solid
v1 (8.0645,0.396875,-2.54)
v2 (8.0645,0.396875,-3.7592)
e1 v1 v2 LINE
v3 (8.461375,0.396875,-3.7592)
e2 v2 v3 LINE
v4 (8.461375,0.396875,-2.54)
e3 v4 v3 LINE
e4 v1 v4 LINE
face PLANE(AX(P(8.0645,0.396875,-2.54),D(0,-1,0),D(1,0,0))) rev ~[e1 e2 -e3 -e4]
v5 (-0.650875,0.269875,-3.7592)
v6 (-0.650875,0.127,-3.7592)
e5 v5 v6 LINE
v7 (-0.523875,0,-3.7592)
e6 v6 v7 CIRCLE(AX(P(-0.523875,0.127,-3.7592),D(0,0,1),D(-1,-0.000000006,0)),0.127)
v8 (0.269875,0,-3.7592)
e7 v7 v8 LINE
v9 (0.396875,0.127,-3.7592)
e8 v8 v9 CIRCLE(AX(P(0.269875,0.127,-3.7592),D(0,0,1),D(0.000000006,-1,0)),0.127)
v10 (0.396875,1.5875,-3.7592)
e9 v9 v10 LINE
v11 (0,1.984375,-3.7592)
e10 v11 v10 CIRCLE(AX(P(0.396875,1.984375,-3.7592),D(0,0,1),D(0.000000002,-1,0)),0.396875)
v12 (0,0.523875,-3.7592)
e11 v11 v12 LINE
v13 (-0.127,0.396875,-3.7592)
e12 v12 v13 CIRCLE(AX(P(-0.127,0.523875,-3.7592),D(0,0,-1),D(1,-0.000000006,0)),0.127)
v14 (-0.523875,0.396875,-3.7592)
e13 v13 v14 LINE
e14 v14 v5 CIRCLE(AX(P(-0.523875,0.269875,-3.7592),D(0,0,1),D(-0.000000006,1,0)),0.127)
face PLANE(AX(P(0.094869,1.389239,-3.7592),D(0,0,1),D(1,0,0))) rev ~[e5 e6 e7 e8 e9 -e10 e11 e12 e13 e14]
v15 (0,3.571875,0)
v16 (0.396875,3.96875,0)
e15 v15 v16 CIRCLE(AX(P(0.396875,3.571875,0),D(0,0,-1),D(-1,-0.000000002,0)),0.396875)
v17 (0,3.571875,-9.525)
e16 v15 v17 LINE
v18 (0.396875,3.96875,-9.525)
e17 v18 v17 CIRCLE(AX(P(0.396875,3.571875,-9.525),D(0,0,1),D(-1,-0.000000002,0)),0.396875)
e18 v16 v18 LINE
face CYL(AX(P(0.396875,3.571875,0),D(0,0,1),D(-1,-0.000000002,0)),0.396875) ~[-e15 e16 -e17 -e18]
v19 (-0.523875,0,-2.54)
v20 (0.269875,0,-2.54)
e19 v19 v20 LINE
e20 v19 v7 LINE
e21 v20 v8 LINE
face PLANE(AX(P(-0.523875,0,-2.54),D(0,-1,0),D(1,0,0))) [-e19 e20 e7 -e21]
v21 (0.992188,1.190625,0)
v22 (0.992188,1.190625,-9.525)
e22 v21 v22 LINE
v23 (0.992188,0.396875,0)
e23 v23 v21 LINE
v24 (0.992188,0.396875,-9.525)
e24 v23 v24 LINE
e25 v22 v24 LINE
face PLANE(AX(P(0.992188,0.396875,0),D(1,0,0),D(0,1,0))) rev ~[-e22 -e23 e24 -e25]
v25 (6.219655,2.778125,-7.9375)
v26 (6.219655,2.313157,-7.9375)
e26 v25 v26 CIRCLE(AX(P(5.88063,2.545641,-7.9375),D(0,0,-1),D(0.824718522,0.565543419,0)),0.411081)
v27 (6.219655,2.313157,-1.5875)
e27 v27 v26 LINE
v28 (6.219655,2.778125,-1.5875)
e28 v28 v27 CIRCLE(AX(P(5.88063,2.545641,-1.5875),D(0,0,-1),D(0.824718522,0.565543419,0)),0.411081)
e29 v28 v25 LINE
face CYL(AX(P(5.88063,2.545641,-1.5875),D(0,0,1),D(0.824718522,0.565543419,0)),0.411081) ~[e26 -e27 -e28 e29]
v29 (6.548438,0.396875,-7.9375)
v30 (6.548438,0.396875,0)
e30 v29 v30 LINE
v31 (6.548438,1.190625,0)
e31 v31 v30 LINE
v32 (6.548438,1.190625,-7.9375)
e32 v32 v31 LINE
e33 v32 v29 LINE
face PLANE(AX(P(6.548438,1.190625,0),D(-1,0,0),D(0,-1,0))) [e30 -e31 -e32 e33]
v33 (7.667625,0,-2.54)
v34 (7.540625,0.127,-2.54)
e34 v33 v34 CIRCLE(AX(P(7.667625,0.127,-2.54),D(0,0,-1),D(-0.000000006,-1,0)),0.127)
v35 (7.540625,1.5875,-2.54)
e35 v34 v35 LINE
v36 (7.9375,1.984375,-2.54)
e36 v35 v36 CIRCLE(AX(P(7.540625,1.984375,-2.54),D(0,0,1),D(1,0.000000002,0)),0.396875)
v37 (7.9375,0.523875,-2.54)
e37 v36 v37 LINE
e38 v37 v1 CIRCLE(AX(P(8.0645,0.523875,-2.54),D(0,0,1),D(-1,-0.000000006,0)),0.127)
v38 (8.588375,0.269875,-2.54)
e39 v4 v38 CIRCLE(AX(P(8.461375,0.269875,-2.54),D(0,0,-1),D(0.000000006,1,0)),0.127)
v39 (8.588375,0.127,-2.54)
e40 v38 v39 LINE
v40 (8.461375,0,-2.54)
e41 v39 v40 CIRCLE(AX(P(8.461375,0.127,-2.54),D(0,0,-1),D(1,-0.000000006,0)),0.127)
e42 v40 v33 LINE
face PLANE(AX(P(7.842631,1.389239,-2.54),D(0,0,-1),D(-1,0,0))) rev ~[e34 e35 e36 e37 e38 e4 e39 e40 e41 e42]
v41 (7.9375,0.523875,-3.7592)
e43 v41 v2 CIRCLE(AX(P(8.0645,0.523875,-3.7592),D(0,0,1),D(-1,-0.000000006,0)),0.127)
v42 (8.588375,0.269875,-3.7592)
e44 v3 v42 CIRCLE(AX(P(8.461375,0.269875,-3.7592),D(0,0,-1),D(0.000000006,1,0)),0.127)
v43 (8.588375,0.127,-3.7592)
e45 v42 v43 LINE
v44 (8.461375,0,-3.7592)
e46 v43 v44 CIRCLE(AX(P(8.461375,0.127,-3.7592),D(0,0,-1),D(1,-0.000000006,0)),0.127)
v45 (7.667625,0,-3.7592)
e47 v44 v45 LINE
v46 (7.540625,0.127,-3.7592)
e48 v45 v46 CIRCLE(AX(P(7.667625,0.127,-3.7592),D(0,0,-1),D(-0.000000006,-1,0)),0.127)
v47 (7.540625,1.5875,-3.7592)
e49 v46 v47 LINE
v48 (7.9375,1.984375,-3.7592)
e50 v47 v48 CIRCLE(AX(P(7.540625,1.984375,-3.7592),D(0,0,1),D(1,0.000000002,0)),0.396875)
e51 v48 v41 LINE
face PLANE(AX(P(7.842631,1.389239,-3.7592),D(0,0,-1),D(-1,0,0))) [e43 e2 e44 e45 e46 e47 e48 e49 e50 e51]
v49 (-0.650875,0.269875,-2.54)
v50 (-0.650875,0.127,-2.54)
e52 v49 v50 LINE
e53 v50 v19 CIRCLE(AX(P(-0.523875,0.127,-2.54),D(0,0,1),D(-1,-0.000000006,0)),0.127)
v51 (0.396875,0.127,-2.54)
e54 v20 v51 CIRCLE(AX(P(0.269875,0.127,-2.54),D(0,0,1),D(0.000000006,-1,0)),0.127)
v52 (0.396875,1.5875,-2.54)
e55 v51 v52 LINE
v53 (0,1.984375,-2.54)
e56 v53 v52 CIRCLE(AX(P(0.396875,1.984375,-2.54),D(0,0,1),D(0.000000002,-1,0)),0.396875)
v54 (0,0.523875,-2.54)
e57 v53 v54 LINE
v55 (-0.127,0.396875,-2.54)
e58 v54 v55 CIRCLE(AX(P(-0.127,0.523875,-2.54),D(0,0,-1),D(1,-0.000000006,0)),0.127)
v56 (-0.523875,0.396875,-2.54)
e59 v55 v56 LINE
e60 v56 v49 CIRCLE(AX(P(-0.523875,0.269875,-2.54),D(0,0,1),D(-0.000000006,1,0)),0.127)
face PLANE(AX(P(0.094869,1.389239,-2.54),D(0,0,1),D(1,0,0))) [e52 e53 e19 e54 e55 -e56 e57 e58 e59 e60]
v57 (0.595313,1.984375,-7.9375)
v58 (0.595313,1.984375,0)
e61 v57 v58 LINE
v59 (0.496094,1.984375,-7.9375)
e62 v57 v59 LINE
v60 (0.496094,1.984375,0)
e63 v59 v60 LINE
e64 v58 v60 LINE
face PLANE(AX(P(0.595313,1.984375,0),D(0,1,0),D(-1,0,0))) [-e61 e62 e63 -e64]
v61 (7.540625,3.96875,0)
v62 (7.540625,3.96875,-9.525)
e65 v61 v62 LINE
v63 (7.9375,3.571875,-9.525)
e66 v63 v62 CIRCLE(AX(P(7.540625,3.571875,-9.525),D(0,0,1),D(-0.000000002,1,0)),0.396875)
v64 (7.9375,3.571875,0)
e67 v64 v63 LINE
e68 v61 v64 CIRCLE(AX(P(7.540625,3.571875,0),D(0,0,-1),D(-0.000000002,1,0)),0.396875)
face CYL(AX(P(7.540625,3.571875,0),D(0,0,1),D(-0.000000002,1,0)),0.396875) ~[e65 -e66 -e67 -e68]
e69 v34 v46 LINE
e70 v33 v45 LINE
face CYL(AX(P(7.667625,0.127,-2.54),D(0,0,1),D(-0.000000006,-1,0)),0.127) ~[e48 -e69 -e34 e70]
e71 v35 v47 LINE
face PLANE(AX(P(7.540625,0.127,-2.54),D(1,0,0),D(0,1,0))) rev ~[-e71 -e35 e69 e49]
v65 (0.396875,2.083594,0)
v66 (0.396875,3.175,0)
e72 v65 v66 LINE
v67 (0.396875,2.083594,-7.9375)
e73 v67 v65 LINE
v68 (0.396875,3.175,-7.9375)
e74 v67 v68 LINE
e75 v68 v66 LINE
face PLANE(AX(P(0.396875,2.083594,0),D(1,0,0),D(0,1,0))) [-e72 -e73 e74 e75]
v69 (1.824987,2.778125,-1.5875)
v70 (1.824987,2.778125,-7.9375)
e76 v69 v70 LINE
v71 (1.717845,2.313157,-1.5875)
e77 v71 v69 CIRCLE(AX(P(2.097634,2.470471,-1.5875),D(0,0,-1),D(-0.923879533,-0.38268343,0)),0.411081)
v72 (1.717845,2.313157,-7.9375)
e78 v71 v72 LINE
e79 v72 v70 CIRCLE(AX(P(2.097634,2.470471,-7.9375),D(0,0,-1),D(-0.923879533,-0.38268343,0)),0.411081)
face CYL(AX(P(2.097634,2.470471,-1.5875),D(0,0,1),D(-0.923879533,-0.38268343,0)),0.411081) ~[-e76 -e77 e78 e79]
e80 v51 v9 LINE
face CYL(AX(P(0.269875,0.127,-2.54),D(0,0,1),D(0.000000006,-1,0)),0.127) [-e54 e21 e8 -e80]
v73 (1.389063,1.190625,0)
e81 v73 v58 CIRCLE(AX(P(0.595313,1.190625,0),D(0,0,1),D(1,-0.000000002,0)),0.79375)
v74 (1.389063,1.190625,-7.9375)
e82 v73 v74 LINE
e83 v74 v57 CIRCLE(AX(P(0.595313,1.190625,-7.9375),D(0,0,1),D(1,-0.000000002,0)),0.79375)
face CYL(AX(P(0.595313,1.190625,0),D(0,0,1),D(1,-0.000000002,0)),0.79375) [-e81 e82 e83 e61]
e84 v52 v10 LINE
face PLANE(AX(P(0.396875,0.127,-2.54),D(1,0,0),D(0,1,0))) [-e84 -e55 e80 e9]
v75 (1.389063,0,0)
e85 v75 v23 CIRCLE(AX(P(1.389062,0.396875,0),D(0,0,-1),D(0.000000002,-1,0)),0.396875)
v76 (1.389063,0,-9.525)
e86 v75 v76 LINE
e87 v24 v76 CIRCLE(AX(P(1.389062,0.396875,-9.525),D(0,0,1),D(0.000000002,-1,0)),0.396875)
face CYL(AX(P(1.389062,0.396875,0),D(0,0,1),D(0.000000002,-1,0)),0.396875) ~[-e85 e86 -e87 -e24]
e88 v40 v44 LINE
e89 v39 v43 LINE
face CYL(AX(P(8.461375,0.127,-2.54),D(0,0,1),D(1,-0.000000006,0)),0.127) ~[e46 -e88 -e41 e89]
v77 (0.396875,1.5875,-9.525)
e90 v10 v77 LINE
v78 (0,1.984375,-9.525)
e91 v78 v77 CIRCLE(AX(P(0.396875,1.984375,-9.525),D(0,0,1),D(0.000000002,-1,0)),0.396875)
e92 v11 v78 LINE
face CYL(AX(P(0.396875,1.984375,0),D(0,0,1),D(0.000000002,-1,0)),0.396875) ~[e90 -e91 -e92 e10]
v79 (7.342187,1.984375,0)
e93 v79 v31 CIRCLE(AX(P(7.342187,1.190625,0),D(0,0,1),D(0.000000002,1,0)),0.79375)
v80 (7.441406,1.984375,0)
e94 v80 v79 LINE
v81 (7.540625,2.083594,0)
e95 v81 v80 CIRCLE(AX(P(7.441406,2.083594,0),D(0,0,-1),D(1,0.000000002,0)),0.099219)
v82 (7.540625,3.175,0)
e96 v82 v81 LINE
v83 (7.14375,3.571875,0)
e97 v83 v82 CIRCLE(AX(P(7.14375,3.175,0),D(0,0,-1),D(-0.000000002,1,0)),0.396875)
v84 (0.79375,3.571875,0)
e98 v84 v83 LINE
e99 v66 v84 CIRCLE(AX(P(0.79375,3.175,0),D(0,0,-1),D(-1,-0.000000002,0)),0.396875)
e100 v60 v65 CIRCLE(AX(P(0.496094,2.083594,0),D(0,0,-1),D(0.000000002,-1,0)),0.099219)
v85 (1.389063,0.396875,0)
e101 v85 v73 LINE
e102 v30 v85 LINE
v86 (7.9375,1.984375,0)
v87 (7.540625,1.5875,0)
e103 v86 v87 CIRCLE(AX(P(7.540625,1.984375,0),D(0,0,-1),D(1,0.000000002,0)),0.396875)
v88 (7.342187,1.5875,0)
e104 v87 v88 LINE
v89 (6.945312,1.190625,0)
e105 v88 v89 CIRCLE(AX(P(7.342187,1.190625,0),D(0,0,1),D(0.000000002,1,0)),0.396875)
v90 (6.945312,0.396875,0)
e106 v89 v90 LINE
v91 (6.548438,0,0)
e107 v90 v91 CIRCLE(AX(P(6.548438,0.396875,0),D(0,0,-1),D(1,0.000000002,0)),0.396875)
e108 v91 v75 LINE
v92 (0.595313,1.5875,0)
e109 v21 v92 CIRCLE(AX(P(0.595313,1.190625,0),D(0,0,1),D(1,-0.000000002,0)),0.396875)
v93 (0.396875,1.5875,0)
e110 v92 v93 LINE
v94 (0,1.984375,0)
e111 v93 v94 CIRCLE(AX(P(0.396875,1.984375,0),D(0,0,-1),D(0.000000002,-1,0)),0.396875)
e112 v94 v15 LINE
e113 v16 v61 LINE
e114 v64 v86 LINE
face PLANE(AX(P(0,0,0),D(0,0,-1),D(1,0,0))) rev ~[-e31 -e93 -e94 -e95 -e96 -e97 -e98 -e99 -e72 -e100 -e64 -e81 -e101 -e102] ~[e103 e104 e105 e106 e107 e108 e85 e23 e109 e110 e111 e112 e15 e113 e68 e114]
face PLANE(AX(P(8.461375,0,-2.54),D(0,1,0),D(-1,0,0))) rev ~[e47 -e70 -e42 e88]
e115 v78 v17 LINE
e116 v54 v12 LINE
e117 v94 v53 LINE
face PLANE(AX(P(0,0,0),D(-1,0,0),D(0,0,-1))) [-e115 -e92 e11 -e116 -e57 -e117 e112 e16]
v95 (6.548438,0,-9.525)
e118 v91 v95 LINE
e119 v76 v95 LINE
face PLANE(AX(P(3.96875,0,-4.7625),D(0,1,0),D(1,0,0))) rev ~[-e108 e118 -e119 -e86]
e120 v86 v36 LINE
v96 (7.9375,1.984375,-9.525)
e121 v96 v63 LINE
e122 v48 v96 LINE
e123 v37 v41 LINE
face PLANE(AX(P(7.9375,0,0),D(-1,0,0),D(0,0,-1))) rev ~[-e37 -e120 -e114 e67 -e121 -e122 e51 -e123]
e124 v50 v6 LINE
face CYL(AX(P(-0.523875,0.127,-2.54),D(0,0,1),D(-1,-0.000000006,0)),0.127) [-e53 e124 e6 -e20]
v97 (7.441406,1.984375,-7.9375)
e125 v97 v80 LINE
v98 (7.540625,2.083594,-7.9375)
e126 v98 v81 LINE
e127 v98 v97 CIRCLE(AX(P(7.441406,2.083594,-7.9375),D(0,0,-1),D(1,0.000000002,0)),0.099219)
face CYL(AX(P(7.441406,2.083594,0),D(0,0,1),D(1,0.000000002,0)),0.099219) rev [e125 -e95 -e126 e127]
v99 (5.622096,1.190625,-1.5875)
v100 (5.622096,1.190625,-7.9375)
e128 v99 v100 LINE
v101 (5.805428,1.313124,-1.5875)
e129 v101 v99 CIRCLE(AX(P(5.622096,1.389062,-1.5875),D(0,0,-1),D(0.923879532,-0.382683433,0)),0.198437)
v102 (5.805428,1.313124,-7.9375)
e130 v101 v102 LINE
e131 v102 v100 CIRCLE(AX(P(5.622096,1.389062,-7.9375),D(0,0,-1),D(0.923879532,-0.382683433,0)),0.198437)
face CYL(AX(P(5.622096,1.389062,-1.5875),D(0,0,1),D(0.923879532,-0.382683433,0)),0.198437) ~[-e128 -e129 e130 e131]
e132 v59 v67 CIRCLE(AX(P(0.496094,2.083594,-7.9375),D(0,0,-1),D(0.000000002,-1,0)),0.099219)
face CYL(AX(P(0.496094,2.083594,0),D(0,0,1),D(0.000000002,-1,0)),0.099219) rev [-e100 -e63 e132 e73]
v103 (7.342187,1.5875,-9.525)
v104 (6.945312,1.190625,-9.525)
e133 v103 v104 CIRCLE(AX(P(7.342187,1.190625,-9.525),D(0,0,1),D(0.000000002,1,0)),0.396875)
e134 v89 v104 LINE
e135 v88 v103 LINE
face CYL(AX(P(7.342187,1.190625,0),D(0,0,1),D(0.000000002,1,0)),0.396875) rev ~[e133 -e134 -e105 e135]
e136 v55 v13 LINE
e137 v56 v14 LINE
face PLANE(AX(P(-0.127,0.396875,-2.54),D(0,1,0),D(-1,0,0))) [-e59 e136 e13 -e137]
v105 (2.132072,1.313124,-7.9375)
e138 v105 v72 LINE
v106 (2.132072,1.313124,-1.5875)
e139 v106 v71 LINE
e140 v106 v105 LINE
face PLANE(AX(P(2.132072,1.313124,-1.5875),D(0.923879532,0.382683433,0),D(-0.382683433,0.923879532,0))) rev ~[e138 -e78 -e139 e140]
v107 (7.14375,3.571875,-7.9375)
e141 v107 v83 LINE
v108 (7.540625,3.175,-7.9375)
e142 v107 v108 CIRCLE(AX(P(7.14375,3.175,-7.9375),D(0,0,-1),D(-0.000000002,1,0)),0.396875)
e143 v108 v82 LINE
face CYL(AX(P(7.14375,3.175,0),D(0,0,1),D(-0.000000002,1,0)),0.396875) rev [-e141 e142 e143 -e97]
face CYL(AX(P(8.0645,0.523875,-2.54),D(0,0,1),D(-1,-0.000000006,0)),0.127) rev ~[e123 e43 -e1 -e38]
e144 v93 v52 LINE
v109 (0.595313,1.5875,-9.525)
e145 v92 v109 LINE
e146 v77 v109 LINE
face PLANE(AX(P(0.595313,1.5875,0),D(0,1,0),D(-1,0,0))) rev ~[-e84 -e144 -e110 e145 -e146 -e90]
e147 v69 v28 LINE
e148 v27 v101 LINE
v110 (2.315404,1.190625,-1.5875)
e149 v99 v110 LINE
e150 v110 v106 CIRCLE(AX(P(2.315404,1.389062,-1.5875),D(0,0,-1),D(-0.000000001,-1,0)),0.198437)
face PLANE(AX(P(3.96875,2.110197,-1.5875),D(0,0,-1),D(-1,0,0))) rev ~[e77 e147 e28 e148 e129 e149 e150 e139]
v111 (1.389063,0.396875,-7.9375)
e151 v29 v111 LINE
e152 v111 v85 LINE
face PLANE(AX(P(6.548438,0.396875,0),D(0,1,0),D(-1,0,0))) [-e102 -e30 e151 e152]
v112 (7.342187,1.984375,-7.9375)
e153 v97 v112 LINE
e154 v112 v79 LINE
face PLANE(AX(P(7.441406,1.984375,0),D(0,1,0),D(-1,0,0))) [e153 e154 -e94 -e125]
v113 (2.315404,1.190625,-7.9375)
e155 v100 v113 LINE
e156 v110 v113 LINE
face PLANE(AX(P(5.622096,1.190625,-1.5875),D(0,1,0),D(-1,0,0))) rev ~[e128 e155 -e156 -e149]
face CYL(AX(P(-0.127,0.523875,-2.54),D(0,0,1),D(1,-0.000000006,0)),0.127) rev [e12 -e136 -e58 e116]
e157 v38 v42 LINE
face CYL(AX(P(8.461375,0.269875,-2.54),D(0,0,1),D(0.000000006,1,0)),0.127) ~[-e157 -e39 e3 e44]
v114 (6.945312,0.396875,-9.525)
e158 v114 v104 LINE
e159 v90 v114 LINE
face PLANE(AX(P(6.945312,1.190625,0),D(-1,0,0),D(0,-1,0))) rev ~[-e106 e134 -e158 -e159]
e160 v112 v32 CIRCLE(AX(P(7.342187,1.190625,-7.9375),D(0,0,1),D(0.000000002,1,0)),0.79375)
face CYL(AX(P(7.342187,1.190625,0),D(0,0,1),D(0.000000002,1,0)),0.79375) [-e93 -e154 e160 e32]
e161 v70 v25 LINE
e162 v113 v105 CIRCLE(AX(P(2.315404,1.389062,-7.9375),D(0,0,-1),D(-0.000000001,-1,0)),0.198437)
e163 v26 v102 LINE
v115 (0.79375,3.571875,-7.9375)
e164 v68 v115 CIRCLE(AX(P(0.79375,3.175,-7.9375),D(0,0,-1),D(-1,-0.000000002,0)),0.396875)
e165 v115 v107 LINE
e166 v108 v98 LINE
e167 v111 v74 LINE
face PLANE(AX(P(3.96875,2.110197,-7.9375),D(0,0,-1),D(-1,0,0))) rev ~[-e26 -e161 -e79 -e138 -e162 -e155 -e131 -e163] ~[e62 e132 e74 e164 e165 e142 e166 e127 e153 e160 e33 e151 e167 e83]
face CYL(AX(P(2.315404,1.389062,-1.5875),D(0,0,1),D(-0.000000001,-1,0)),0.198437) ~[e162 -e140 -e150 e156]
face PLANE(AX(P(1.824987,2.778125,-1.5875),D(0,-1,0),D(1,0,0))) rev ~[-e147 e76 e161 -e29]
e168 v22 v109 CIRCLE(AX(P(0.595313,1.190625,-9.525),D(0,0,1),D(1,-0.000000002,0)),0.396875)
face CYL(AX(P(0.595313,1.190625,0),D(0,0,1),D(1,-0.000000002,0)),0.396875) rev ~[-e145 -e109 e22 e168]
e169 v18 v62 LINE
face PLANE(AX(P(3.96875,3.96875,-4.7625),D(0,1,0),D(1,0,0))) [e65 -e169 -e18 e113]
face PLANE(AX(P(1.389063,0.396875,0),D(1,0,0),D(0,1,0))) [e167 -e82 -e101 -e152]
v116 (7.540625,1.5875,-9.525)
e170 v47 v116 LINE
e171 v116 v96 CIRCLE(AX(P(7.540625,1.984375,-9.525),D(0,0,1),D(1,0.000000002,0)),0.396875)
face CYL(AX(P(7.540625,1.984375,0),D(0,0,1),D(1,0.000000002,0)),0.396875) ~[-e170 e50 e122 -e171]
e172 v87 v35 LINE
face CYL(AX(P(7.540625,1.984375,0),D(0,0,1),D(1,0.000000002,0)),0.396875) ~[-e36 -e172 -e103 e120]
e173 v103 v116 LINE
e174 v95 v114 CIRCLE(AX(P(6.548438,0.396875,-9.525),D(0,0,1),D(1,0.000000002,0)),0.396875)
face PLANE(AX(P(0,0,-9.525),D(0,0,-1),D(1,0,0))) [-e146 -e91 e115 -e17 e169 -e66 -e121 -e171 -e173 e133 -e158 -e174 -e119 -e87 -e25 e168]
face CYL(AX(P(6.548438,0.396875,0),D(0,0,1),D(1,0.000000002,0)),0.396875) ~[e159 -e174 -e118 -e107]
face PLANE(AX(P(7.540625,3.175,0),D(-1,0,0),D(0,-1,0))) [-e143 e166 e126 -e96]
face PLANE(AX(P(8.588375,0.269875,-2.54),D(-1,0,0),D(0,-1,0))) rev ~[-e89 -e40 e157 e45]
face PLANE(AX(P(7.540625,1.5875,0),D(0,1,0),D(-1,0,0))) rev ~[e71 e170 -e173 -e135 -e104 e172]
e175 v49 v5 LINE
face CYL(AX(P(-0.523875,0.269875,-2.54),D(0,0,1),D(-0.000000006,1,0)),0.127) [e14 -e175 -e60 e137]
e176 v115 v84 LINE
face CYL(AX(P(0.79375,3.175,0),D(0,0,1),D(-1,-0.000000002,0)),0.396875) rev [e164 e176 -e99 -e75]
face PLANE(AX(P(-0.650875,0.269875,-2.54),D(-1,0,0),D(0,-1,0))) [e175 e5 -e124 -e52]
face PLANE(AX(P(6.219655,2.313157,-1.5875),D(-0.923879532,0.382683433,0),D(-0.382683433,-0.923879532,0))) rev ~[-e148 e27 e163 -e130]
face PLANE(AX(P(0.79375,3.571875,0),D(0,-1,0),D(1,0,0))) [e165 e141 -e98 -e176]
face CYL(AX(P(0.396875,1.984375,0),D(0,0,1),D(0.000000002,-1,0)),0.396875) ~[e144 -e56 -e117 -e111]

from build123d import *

# Parameters (mm, degrees)
SKETCH1_W           = 7.9375
SKETCH1_H           = 9.525
EXTRUDE1_DEPTH      = 3.96875
SKETCH2_OUTSIDE_W   = 12.541
SKETCH2_OUTSIDE_H   = 8.573
EXTRUDE2_DEPTH      = 14.018467952
EXTRUDE3_DEPTH      = 1.5875
EXTRUDE4_DEPTH      = 6.35
BOSS_EXTRUDE1_START = -2.54
BOSS_EXTRUDE1_DEPTH = 1.2192


with BuildPart() as part:
    # Sketch1 → Extrude1 (new body)
    with BuildSketch(Plane(origin=(0, 0, 0), x_dir=(1, 0, 0), z_dir=(0, 1, 0))):
        with Locations((3.96875, 4.7625)):
            Rectangle(SKETCH1_W, SKETCH1_H)
    extrude(amount=EXTRUDE1_DEPTH)

    # Sketch2 outside → Extrude2 (cut, through all)
    with BuildSketch(Plane.XY):
        with Locations((3.9685, 1.9845)):
            Rectangle(SKETCH2_OUTSIDE_W, SKETCH2_OUTSIDE_H)
        with BuildLine():
            Line((0, 1.984375), (0, 3.571875))
            ThreePointArc((0, 3.571875), (0.116241996, 3.852508004), (0.396875, 3.96875))
            Line((0.396875, 3.96875), (7.540625, 3.96875))
            ThreePointArc((7.540625, 3.96875), (7.821258004, 3.852508004), (7.9375, 3.571875))
            Line((7.9375, 3.571875), (7.9375, 1.984375))
            ThreePointArc((7.9375, 1.984375), (7.821258004, 1.703741996), (7.540625, 1.5875))
            Line((7.540625, 1.5875), (7.3421875, 1.5875))
            ThreePointArc((7.3421875, 1.5875), (7.061554496, 1.471258004), (6.9453125, 1.190625))
            Line((6.9453125, 1.190625), (6.9453125, 0.396875))
            ThreePointArc((6.9453125, 0.396875), (6.829070504, 0.116241996), (6.5484375, 0))
            Line((6.5484375, 0), (1.3890625, 0))
            ThreePointArc((1.3890625, 0), (1.108429496, 0.116241996), (0.9921875, 0.396875))
            Line((0.9921875, 0.396875), (0.9921875, 1.190625))
            ThreePointArc((0.9921875, 1.190625), (0.875945504, 1.471258004), (0.5953125, 1.5875))
            Line((0.5953125, 1.5875), (0.396875, 1.5875))
            ThreePointArc((0.396875, 1.5875), (0.116241996, 1.703741996), (0, 1.984375))
        make_face(mode=Mode.SUBTRACT)
    extrude(amount=-EXTRUDE2_DEPTH, mode=Mode.SUBTRACT)

    # Sketch3 → Extrude3 (cut)
    with BuildSketch(Plane.XY):
        with BuildLine():
            ThreePointArc((1.3890625, 1.190625), (1.156578508, 1.751891008), (0.5953125, 1.984375))
            Line((0.5953125, 1.984375), (0.49609375, 1.984375))
            ThreePointArc((0.49609375, 1.984375), (0.425935499, 2.013435499), (0.396875, 2.08359375))
            Line((0.396875, 2.08359375), (0.396875, 3.175))
            ThreePointArc((0.396875, 3.175), (0.513116996, 3.455633004), (0.79375, 3.571875))
            Line((0.79375, 3.571875), (7.14375, 3.571875))
            ThreePointArc((7.14375, 3.571875), (7.424383004, 3.455633004), (7.540625, 3.175))
            Line((7.540625, 3.175), (7.540625, 2.08359375))
            ThreePointArc((7.540625, 2.08359375), (7.511564501, 2.013435499), (7.44140625, 1.984375))
            Line((7.44140625, 1.984375), (7.3421875, 1.984375))
            ThreePointArc((7.3421875, 1.984375), (6.780921492, 1.751891008), (6.5484375, 1.190625))
            Line((6.5484375, 1.190625), (6.5484375, 0.396875))
            Line((6.5484375, 0.396875), (1.3890625, 0.396875))
            Line((1.3890625, 0.396875), (1.3890625, 1.190625))
        make_face()
    extrude(amount=-EXTRUDE3_DEPTH, mode=Mode.SUBTRACT)

    # Sketch5 → Extrude4 (cut)
    with BuildSketch(Plane.XY.offset(-1.5875)):
        with BuildLine():
            Line((0.79375, 3.571875), (7.14375, 3.571875))
            ThreePointArc((7.14375, 3.571875), (7.424383004, 3.455633004), (7.540625, 3.175))
            Line((7.540625, 3.175), (7.540625, 2.08359375))
            ThreePointArc((7.540625, 2.08359375), (7.511564501, 2.013435499), (7.44140625, 1.984375))
            Line((7.44140625, 1.984375), (7.3421875, 1.984375))
            ThreePointArc((7.3421875, 1.984375), (6.780921492, 1.751891008), (6.5484375, 1.190625))
            Line((6.5484375, 1.190625), (6.5484375, 0.396875))
            Line((6.5484375, 0.396875), (1.3890625, 0.396875))
            Line((1.3890625, 0.396875), (1.3890625, 1.190625))
            ThreePointArc((1.3890625, 1.190625), (1.156578508, 1.751891008), (0.5953125, 1.984375))
            Line((0.5953125, 1.984375), (0.49609375, 1.984375))
            ThreePointArc((0.49609375, 1.984375), (0.425935499, 2.013435499), (0.396875, 2.08359375))
            Line((0.396875, 2.08359375), (0.396875, 3.175))
            ThreePointArc((0.396875, 3.175), (0.513116996, 3.455633004), (0.79375, 3.571875))
        make_face()
        with BuildLine():
            Line((1.824986809, 2.778125), (6.219655485, 2.778125))
            ThreePointArc((6.219655485, 2.778125), (6.29171032, 2.545641008), (6.219655485, 2.313157015))
            Line((6.219655485, 2.313157015), (5.805428146, 1.313123756))
            ThreePointArc((5.805428146, 1.313123756), (5.73234177, 1.224067749), (5.622095802, 1.190625))
            Line((5.622095802, 1.190625), (2.315404198, 1.190625))
            ThreePointArc((2.315404198, 1.190625), (2.20515823, 1.224067749), (2.132071854, 1.313123756))
            Line((2.132071854, 1.313123756), (1.717844515, 2.313157015))
            ThreePointArc((1.717844515, 2.313157015), (1.697050338, 2.562776965), (1.824986809, 2.778125))
        make_face(mode=Mode.SUBTRACT)
    extrude(amount=-EXTRUDE4_DEPTH, mode=Mode.SUBTRACT)

    # Sketch6 → Boss-Extrude1 (add)
    with BuildSketch(Plane.XY.offset(BOSS_EXTRUDE1_START)):
        with BuildLine():
            Line((0, 3.139540901), (0, 0.523875))
            ThreePointArc((0, 0.523875), (-0.037197439, 0.434072439), (-0.127, 0.396875))
            Line((-0.127, 0.396875), (-0.523875, 0.396875))
            ThreePointArc((-0.523875, 0.396875), (-0.613677561, 0.359677561), (-0.650875, 0.269875))
            Line((-0.650875, 0.269875), (-0.650875, 0.127))
            ThreePointArc((-0.650875, 0.127), (-0.613677561, 0.037197439), (-0.523875, 0))
            Line((-0.523875, 0), (0.269875, 0))
            ThreePointArc((0.269875, 0), (0.359677561, 0.037197439), (0.396875, 0.127))
            Line((0.396875, 0.127), (0.396875, 3.139540901))
            Line((0.396875, 3.139540901), (0, 3.139540901))
        make_face()
        with BuildLine():
            Line((7.540625, 3.139540901), (7.9375, 3.139540901))
            Line((7.9375, 3.139540901), (7.9375, 0.523875))
            ThreePointArc((7.9375, 0.523875), (7.974697439, 0.434072439), (8.0645, 0.396875))
            Line((8.0645, 0.396875), (8.461375, 0.396875))
            ThreePointArc((8.461375, 0.396875), (8.551177561, 0.359677561), (8.588375, 0.269875))
            Line((8.588375, 0.269875), (8.588375, 0.127))
            ThreePointArc((8.588375, 0.127), (8.551177561, 0.037197439), (8.461375, 0))
            Line((8.461375, 0), (7.667625, 0))
            ThreePointArc((7.667625, 0), (7.577822439, 0.037197439), (7.540625, 0.127))
            Line((7.540625, 0.127), (7.540625, 3.139540901))
        make_face()
    extrude(amount=-BOSS_EXTRUDE1_DEPTH)


solid = part.part
